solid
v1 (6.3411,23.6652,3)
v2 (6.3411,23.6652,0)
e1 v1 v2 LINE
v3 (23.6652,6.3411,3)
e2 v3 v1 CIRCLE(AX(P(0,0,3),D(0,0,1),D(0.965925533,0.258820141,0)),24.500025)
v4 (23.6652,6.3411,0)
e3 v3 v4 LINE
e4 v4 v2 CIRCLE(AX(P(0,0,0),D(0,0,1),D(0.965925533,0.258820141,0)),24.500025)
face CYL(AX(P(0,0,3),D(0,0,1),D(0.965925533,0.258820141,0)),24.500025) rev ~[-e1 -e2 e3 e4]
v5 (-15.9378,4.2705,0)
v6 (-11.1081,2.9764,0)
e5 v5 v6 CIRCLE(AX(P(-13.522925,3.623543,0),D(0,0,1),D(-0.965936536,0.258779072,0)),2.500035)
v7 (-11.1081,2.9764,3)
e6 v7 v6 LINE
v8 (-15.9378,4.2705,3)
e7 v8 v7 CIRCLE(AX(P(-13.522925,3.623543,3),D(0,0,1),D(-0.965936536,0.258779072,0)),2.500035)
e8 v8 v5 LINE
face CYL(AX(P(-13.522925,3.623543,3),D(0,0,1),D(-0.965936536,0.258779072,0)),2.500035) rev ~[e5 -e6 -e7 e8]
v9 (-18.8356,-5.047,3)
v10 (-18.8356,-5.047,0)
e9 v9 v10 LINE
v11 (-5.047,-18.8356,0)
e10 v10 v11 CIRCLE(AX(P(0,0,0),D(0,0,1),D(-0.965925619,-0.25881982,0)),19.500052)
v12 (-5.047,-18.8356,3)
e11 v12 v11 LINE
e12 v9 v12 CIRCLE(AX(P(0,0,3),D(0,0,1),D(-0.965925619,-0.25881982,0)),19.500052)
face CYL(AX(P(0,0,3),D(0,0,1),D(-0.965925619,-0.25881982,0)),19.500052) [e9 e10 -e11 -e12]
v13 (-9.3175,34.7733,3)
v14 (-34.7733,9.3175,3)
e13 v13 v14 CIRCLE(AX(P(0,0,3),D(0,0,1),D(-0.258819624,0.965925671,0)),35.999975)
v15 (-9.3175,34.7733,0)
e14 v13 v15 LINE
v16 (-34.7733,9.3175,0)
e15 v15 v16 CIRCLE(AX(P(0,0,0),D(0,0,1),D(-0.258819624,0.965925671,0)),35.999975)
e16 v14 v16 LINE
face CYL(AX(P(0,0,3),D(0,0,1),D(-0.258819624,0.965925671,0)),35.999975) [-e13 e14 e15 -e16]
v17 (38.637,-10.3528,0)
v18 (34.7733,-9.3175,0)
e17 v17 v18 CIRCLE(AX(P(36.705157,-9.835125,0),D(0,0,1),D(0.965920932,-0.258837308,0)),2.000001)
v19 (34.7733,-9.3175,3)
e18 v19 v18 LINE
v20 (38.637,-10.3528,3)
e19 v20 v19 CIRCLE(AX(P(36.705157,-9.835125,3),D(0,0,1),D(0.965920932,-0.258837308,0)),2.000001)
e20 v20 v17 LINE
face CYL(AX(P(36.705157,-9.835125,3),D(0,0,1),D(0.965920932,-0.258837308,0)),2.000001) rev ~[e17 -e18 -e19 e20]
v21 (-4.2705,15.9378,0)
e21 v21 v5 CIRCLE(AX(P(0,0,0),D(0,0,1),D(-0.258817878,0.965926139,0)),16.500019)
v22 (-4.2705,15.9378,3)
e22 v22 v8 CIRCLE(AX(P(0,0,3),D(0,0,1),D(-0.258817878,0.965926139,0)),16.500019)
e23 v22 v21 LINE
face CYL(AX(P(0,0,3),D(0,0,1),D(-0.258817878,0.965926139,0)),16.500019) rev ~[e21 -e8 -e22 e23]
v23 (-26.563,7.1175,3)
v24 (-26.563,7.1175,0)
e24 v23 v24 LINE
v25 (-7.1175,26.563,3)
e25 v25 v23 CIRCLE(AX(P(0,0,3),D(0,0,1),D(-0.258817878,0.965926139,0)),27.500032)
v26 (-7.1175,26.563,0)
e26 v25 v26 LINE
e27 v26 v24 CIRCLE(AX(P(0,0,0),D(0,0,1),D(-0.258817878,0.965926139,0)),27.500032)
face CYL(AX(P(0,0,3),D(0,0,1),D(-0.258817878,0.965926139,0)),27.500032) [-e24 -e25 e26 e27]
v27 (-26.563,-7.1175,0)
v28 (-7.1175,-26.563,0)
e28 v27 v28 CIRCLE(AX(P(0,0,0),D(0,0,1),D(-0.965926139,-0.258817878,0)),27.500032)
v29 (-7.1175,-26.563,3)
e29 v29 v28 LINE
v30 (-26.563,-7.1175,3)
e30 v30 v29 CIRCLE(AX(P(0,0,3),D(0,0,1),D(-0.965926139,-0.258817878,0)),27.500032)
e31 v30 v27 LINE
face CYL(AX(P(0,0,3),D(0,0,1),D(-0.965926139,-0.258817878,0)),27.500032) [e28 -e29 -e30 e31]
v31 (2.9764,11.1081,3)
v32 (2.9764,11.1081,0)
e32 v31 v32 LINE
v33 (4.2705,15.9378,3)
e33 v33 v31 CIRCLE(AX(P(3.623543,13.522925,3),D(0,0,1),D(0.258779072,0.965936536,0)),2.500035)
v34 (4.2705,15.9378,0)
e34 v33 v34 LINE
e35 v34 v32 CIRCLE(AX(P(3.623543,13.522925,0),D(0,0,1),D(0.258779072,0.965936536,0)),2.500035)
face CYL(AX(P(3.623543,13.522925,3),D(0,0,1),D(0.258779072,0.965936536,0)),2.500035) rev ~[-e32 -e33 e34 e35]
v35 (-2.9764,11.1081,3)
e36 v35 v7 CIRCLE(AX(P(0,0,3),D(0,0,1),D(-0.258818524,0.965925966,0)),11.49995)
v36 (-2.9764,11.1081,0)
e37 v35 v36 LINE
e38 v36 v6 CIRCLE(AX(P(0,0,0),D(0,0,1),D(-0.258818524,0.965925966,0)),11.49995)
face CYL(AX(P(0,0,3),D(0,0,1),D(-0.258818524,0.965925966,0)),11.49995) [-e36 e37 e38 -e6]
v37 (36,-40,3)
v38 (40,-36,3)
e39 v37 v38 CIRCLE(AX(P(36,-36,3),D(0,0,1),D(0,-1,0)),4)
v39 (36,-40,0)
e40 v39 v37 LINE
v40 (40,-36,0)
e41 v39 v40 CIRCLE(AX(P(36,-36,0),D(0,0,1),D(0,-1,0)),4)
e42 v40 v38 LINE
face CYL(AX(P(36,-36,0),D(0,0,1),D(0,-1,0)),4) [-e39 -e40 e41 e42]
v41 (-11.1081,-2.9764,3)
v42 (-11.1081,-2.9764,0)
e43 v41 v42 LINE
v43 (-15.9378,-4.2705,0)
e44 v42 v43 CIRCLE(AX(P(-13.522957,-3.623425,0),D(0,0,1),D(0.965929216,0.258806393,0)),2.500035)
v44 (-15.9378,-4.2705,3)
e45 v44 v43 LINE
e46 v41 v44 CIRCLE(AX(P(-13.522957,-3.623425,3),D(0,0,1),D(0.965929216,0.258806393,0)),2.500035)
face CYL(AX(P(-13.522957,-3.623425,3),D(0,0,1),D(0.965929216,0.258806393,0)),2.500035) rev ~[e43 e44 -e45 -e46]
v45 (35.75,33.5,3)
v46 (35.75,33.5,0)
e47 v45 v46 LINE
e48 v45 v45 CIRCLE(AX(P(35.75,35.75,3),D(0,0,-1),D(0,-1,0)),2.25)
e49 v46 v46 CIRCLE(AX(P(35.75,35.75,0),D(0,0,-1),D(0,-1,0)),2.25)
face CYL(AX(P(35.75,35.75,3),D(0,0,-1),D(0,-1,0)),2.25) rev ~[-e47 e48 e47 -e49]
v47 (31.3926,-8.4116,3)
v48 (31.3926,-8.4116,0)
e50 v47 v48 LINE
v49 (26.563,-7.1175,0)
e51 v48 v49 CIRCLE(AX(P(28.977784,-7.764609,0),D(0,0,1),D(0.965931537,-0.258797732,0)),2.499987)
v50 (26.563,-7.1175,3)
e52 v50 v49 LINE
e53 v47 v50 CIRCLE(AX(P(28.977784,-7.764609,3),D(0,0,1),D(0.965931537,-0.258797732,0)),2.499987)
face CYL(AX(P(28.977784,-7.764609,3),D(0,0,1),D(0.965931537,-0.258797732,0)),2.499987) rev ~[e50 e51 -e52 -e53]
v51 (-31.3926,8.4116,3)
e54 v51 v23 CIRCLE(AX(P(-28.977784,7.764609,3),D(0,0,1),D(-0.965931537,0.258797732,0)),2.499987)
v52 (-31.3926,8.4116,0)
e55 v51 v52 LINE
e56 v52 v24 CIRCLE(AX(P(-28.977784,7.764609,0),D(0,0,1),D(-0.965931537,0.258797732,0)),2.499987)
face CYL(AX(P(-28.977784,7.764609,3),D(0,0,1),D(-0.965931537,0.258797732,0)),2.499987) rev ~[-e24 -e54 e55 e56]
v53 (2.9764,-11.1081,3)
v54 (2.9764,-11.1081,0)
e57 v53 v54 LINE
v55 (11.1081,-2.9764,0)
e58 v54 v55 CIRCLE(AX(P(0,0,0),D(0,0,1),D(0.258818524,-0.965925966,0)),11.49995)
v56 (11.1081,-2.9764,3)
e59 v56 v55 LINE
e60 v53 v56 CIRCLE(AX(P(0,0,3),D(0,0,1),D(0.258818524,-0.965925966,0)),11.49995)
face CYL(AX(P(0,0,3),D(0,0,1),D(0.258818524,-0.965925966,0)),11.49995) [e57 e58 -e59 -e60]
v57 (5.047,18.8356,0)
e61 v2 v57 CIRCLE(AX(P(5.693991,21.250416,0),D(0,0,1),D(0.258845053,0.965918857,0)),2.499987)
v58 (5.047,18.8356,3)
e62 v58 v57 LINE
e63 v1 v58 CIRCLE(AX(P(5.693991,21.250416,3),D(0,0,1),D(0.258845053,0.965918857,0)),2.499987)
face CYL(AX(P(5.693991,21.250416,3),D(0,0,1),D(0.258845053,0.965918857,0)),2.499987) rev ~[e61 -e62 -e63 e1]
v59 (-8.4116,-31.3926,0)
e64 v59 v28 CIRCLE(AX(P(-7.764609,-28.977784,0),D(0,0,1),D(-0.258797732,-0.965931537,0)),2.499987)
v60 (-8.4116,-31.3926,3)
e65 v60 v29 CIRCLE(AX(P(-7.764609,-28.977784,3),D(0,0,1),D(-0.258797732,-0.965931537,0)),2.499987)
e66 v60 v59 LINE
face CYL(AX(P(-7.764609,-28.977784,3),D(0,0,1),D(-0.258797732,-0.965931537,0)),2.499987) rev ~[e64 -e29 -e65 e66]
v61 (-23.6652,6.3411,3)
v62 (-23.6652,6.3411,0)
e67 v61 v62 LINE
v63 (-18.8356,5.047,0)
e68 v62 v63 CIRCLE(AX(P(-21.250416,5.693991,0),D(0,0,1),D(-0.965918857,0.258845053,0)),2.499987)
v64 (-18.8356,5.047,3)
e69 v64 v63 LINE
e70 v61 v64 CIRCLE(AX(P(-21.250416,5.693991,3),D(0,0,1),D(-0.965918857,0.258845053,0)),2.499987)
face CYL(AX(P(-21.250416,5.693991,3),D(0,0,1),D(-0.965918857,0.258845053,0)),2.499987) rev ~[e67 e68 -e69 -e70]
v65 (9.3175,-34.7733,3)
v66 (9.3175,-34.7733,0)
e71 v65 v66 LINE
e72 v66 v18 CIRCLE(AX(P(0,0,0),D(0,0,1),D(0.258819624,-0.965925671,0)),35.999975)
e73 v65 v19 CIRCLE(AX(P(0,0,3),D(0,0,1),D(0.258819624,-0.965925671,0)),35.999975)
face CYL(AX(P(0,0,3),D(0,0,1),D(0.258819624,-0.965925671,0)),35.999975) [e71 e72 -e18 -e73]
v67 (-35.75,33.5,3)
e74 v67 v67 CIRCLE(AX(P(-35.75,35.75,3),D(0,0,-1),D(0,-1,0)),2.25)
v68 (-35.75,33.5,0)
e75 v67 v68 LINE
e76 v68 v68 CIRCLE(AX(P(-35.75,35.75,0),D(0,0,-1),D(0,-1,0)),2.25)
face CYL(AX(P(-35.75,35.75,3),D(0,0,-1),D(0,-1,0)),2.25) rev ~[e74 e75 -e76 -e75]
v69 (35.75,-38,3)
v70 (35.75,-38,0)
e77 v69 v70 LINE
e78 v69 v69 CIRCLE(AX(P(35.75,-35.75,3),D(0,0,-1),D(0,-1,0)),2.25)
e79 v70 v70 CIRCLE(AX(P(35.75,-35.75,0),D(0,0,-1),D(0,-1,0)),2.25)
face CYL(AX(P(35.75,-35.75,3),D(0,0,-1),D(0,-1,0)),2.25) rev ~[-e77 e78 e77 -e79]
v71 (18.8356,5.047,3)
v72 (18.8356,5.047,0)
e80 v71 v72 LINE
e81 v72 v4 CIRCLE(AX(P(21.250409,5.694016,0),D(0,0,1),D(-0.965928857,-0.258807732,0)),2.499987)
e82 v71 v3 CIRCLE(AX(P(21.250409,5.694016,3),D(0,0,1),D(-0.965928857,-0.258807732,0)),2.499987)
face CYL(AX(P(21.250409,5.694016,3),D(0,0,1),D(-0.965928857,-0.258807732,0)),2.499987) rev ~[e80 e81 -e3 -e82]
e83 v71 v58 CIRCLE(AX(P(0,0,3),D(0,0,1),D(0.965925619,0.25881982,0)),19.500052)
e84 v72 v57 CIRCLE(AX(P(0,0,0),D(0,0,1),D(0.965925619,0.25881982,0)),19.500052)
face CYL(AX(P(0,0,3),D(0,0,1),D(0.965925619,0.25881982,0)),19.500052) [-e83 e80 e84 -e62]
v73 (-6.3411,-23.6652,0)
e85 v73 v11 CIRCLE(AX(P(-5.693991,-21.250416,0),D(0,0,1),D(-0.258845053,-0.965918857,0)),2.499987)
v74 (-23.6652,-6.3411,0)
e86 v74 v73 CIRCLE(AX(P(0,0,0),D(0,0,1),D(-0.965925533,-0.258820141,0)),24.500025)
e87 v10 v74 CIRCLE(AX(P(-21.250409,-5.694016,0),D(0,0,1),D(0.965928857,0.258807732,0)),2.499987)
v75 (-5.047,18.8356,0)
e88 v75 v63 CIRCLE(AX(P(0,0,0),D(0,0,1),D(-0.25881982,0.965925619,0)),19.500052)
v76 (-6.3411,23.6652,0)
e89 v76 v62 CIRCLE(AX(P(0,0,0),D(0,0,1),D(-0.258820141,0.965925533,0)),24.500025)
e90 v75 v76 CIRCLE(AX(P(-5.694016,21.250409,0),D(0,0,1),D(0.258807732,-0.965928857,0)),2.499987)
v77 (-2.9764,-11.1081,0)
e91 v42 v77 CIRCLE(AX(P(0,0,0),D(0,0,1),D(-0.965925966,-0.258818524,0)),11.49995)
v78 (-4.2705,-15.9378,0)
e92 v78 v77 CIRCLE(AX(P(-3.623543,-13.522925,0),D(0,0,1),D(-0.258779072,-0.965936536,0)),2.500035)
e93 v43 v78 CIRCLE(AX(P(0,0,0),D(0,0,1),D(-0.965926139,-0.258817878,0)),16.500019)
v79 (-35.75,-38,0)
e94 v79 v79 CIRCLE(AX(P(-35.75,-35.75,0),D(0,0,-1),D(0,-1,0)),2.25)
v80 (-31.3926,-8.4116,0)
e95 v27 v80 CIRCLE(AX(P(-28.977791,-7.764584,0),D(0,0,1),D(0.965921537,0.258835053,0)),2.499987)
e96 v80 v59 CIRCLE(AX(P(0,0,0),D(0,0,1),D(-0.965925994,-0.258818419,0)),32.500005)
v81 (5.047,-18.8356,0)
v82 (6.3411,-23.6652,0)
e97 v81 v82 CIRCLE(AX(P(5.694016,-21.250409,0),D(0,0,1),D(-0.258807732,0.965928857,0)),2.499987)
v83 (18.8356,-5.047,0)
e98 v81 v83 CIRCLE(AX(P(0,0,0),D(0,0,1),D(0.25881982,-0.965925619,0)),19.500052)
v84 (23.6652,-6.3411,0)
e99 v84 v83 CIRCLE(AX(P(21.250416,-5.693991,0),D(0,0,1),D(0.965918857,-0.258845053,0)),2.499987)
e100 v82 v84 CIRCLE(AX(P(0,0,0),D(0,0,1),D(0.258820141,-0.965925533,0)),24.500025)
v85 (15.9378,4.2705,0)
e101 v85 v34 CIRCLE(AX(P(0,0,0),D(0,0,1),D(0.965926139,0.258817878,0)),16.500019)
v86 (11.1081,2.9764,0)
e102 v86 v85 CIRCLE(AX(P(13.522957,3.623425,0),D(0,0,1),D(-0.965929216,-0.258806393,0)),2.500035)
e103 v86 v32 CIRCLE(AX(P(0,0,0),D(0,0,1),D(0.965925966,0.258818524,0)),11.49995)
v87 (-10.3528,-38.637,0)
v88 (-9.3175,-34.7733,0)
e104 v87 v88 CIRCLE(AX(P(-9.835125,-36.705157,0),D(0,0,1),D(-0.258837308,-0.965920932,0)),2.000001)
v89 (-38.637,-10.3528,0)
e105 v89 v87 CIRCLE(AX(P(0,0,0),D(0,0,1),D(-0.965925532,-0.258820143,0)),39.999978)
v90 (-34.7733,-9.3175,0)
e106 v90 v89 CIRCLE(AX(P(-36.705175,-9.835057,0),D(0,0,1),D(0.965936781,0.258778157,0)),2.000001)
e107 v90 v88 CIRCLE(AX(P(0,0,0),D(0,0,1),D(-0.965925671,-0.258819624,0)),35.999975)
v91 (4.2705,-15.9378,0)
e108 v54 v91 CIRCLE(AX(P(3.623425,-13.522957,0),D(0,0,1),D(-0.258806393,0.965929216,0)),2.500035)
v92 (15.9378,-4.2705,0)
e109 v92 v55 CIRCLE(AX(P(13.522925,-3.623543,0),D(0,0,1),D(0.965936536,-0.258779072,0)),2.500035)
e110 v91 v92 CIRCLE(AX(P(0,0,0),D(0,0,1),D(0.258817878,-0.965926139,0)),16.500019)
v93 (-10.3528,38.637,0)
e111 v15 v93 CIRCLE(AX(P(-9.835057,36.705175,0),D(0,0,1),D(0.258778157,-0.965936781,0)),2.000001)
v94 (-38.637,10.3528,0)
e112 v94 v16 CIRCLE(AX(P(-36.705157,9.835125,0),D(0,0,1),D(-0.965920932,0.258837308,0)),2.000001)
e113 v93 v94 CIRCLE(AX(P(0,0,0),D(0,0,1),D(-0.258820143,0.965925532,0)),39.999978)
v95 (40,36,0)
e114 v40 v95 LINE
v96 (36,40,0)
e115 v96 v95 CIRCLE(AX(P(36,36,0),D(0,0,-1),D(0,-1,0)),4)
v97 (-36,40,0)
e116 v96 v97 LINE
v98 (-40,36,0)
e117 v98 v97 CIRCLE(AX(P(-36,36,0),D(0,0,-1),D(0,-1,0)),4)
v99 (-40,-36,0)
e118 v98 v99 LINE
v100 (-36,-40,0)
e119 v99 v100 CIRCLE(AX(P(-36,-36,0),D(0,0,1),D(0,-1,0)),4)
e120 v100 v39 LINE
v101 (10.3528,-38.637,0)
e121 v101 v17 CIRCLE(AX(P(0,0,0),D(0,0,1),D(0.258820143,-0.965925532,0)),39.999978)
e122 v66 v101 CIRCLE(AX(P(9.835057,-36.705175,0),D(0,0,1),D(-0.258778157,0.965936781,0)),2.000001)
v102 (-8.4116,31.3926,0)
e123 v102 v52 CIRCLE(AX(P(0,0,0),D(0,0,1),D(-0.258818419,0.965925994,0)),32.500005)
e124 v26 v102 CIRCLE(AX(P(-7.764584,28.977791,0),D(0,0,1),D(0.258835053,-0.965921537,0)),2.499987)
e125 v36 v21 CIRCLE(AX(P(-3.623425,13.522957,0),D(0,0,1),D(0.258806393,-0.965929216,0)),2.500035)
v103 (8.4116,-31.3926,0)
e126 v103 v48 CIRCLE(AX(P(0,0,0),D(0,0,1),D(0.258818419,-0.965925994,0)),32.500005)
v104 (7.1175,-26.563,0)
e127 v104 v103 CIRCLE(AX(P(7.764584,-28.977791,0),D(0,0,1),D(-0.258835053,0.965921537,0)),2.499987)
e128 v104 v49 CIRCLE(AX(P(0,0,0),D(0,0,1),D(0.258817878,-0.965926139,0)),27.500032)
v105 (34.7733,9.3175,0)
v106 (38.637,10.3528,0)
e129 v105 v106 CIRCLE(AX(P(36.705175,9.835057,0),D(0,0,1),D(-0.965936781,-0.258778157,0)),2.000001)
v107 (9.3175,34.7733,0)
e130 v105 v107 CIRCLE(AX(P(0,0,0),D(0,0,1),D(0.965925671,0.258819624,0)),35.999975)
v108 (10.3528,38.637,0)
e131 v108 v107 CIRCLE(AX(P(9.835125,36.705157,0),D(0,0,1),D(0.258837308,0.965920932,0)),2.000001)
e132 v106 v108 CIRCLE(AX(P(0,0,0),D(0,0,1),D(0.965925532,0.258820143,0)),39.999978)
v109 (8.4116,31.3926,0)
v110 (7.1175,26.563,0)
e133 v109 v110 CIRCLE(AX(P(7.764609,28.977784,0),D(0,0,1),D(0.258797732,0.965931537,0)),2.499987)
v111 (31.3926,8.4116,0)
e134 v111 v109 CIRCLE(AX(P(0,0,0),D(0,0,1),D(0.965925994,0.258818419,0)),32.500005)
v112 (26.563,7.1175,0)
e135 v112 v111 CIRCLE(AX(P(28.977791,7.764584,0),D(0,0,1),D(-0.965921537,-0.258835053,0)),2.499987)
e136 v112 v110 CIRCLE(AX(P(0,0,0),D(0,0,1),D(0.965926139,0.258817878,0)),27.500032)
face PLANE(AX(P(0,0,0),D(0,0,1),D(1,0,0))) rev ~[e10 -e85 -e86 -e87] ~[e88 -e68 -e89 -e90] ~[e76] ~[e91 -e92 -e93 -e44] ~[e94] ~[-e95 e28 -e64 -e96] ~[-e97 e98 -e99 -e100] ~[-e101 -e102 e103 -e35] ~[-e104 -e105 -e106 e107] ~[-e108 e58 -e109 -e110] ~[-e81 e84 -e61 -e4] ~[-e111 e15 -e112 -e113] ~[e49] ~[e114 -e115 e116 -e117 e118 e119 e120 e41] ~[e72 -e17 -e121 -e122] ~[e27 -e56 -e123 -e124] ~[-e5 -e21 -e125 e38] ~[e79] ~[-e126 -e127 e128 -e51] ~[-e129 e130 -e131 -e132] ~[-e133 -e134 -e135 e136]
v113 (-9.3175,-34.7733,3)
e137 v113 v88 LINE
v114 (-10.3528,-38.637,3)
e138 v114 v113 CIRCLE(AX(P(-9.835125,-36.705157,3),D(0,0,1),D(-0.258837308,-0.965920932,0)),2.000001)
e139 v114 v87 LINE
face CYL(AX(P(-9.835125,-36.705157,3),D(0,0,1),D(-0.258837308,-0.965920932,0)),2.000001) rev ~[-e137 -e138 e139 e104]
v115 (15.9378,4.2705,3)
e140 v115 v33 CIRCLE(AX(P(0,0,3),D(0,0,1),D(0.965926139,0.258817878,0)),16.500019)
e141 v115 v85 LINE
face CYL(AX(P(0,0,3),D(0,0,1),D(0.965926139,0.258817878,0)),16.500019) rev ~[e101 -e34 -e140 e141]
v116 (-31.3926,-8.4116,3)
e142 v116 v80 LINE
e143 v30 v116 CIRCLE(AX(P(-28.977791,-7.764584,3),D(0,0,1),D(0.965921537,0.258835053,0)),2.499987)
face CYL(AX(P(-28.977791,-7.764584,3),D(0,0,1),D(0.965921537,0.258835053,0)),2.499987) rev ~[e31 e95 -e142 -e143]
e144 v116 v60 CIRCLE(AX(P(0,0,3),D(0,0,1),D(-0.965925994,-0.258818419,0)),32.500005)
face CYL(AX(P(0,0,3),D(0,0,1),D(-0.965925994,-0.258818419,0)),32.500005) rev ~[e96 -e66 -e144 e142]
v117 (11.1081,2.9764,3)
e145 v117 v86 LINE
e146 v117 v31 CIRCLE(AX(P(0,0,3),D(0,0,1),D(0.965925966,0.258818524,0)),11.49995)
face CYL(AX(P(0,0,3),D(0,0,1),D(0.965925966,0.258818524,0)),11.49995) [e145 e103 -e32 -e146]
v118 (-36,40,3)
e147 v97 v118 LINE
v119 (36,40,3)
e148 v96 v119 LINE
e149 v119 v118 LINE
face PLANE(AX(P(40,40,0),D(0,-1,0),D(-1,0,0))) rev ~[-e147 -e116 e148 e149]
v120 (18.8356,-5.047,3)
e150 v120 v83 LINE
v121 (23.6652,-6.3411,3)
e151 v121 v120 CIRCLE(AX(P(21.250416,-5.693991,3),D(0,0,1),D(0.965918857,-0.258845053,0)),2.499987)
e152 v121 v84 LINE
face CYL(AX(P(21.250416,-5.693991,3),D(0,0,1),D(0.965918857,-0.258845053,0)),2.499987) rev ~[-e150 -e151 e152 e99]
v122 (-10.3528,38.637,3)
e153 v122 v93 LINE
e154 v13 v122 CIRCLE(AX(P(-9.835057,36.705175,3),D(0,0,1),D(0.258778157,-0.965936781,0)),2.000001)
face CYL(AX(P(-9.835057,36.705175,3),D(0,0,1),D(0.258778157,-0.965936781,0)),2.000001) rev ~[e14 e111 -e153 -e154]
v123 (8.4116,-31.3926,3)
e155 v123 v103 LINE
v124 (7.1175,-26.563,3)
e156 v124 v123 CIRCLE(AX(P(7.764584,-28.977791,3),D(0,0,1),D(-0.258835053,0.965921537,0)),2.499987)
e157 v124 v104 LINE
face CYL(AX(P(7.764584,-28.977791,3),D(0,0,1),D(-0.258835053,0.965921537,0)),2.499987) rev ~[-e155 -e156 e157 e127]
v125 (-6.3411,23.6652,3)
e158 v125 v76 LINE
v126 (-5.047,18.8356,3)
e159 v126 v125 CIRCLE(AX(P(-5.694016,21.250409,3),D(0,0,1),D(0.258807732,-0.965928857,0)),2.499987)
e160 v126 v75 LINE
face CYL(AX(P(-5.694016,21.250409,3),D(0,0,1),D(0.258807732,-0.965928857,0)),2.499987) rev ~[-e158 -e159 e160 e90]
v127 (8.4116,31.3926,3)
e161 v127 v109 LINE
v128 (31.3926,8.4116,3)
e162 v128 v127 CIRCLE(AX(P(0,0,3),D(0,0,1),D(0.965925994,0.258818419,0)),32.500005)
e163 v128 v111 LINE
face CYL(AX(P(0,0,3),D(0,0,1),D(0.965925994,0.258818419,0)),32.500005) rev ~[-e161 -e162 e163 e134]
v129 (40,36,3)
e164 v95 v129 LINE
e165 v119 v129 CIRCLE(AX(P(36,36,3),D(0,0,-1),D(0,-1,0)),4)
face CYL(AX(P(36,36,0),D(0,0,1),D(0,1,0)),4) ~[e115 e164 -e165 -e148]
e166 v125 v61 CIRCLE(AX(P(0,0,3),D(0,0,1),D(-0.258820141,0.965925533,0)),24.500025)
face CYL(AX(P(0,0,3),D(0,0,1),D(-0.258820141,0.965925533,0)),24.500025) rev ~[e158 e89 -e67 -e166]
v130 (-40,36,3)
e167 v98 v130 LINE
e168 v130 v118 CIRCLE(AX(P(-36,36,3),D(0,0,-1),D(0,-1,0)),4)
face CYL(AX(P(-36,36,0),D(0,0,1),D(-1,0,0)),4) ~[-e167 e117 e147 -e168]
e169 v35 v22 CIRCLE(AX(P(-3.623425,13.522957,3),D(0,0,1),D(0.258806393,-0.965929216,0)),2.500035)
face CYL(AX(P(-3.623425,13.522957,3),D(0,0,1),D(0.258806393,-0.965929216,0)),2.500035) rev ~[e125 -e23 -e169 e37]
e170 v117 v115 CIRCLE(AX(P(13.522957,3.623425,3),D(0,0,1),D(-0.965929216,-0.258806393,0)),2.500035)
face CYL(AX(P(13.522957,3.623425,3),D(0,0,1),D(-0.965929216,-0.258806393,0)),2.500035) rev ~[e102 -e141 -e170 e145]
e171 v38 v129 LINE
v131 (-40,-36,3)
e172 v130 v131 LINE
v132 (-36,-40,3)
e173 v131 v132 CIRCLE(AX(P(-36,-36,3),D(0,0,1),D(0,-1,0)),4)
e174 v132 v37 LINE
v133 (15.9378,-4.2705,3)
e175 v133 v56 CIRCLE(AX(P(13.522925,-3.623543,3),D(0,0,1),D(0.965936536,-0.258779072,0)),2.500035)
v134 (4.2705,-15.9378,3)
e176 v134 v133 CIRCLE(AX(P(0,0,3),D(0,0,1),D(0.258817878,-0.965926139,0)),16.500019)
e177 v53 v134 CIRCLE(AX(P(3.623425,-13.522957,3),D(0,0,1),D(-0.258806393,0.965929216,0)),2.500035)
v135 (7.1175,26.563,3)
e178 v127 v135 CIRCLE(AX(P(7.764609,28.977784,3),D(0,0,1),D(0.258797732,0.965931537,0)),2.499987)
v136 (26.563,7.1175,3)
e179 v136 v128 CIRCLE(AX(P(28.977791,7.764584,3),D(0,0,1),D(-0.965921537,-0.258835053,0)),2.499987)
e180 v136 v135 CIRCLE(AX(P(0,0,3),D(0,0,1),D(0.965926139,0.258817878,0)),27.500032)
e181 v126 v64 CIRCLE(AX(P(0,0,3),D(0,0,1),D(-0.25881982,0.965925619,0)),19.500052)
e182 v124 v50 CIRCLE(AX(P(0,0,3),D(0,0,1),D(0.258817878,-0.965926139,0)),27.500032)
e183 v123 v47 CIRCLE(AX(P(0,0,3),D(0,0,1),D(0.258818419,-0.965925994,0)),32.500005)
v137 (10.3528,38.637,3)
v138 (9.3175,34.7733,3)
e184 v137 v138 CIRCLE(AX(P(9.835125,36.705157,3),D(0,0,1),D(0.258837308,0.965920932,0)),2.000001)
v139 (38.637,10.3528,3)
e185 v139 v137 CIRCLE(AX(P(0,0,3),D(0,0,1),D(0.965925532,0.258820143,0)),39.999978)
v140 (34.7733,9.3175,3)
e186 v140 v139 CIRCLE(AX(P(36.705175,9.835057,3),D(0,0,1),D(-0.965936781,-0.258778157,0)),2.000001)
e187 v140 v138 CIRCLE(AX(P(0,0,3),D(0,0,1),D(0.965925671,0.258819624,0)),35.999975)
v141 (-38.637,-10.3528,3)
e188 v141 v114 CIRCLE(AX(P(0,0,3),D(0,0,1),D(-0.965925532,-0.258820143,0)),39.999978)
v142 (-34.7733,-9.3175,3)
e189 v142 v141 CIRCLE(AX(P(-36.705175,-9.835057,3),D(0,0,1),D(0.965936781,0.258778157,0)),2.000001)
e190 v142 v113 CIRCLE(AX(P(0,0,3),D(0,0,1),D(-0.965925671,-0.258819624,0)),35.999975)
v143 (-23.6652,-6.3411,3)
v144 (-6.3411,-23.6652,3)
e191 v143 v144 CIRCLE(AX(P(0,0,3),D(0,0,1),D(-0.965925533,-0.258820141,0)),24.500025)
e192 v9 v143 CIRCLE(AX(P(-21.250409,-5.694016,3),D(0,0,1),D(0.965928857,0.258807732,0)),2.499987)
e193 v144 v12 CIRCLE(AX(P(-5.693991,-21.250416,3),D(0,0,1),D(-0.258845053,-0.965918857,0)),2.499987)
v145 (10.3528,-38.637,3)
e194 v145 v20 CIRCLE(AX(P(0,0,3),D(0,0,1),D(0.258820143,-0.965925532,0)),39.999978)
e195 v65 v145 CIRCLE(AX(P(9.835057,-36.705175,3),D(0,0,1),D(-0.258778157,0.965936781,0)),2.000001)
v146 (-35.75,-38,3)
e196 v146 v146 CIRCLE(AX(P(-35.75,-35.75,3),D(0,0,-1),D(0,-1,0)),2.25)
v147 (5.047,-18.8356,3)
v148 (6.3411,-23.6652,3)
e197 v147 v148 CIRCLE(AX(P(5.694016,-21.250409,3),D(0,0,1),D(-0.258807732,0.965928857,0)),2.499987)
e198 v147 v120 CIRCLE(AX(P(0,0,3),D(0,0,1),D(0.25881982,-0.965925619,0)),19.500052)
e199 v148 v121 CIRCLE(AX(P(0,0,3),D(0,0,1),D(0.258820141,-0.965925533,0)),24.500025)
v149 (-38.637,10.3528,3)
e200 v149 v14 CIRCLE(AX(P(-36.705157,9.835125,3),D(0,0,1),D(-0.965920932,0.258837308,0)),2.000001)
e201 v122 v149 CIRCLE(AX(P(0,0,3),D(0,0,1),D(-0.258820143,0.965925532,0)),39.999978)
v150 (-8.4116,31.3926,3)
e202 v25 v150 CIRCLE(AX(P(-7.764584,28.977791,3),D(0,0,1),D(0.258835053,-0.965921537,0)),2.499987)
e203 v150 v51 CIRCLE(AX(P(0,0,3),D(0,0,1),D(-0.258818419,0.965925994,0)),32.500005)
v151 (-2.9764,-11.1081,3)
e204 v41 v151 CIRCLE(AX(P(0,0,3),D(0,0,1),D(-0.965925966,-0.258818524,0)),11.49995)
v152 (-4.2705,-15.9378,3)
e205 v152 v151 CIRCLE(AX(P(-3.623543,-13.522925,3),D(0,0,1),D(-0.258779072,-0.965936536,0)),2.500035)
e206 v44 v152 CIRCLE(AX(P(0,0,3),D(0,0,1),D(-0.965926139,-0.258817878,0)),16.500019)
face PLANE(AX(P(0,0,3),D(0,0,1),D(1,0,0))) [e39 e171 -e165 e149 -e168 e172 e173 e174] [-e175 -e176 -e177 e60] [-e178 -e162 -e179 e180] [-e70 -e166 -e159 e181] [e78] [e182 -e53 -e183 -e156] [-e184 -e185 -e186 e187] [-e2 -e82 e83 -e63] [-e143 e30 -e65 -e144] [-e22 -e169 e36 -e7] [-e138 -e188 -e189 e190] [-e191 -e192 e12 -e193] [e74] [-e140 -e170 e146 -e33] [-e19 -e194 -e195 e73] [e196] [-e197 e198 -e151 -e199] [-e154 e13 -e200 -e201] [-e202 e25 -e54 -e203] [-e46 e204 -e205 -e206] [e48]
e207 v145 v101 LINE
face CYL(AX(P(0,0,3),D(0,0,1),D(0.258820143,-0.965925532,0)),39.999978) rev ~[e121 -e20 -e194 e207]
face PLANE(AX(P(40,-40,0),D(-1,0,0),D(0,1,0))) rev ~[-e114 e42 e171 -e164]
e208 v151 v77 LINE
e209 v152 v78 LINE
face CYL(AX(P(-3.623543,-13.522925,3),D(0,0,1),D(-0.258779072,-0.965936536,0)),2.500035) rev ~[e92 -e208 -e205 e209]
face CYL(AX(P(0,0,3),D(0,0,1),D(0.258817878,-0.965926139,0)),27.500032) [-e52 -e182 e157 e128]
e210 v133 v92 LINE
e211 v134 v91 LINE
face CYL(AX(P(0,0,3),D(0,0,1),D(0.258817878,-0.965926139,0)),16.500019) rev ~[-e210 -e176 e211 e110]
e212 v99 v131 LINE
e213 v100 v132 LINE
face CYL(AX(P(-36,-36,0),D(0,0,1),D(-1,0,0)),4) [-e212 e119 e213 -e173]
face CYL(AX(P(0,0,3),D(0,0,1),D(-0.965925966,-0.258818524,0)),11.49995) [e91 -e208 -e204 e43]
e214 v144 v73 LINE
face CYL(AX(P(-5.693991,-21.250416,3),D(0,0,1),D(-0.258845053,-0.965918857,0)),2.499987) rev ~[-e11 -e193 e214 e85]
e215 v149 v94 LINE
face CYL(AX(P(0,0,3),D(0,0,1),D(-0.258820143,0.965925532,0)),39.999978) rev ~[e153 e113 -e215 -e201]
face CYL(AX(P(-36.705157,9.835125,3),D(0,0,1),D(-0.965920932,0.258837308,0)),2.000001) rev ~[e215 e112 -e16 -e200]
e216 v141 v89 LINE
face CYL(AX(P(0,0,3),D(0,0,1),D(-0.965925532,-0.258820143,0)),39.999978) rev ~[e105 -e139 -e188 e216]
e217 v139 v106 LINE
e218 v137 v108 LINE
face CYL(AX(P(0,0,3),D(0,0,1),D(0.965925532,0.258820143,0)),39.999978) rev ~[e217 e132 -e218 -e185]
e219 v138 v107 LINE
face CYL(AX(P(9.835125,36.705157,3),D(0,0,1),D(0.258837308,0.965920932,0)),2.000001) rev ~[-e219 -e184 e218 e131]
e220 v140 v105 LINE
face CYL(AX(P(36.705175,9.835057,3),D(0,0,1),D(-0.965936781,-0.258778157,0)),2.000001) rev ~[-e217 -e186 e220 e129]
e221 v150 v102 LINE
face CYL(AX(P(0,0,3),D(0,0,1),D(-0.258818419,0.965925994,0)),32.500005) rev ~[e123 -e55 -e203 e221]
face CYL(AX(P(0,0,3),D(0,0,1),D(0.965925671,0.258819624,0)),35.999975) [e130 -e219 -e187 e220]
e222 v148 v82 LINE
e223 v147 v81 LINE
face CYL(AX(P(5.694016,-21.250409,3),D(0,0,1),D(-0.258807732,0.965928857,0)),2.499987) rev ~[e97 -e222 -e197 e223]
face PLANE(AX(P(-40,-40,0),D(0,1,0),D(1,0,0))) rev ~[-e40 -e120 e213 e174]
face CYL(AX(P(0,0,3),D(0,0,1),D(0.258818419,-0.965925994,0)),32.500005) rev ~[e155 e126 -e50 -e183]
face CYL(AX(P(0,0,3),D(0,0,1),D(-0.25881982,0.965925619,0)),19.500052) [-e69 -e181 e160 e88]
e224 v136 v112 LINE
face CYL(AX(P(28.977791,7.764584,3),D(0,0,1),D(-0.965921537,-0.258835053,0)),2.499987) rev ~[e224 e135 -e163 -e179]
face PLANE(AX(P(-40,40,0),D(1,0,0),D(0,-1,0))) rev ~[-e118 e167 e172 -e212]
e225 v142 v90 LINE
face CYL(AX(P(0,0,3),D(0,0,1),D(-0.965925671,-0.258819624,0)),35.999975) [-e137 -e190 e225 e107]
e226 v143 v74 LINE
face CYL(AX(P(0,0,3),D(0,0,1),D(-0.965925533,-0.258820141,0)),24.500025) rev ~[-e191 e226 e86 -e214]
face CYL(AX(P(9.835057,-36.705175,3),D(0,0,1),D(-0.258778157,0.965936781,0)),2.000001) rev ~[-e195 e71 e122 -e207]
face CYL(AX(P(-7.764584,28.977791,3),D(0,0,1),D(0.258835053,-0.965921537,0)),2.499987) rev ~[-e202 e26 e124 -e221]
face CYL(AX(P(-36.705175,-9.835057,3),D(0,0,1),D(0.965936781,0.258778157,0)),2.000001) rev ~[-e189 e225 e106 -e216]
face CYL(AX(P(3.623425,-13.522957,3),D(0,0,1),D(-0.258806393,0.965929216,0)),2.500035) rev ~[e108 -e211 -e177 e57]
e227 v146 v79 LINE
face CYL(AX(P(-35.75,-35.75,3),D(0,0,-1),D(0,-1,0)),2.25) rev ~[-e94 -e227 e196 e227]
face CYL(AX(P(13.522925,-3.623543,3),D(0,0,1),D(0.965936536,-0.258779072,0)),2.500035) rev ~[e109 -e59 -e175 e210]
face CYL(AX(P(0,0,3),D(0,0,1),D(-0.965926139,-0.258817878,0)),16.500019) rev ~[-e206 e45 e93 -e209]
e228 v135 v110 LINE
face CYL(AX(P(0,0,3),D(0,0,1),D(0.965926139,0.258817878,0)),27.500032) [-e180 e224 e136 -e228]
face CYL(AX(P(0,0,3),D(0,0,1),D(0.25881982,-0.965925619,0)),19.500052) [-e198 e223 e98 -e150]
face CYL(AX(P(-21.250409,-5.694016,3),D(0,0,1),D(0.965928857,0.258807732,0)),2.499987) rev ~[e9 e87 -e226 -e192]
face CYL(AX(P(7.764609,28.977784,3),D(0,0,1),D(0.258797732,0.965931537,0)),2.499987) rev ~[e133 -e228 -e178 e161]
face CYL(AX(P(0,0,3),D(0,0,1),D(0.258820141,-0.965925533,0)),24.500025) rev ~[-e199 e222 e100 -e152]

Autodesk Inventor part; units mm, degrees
ref_plane "YZ Plane" through (0, 0, 0) normal (1, 0, 0) x (0, 1, 0)
ref_plane "XZ Plane" through (0, 0, 0) normal (0, 1, 0) x (-1, 0, 0)
ref_plane "XY Plane" through (0, 0, 0) normal (0, 0, 1) x (1, 0, 0)
sketch "Sketch1" plane through (0, 0, 0) normal (0, 0, 1) x (1, 0, 0)
  line L0 (-40, -40) -> (40, -40)
  line L1 (40, -40) -> (40, 40)
  line L2 (40, 40) -> (-40, 40)
  line L3 (-40, 40) -> (-40, -40)
  line L4 (-40, -40) -> (40, 40) construction
  line L5 (40, -40) -> (-40, 40) construction
  point P0 (0, 0)
  dimension "d0" = 80
  dimension "d1" = 80
extrude "Extrusion1" add sketch "Sketch1" along normal blind 3
sketch "Sketch2" plane through (0, 0, 3) normal (0, 0, 1) x (1, 0, 0)
  arc A0 (-9.8351, 36.7052) -> (-36.7052, 9.8351) centre (0, 0) ccw construction
  arc A1 (-10.3528, 38.637) -> (-38.637, 10.3528) centre (0, 0) ccw
  arc A2 (-9.3175, 34.7733) -> (-34.7733, 9.3175) centre (0, 0) ccw
  arc A3 (-9.3175, 34.7733) -> (-10.3528, 38.637) centre (-9.8351, 36.7052) ccw
  arc A4 (-38.637, 10.3528) -> (-34.7733, 9.3175) centre (-36.7052, 9.8351) ccw
  arc A5 (-7.7646, 28.9778) -> (-28.9778, 7.7646) centre (0, 0) ccw construction
  arc A6 (-8.4116, 31.3926) -> (-31.3926, 8.4116) centre (0, 0) ccw
  arc A7 (-7.1175, 26.563) -> (-26.563, 7.1175) centre (0, 0) ccw
  arc A8 (-7.1175, 26.563) -> (-8.4116, 31.3926) centre (-7.7646, 28.9778) ccw
  arc A9 (-31.3926, 8.4116) -> (-26.563, 7.1175) centre (-28.9778, 7.7646) ccw
  arc A10 (-5.694, 21.2504) -> (-21.2504, 5.694) centre (0, 0) ccw construction
  arc A11 (-6.3411, 23.6652) -> (-23.6652, 6.3411) centre (0, 0) ccw
  arc A12 (-5.047, 18.8356) -> (-18.8356, 5.047) centre (0, 0) ccw
  arc A13 (-5.047, 18.8356) -> (-6.3411, 23.6652) centre (-5.694, 21.2504) ccw
  arc A14 (-23.6652, 6.3411) -> (-18.8356, 5.047) centre (-21.2504, 5.694) ccw
  line L0 (0, 0) -> (-62.4866, 0) construction
  line L1 (0, 0) -> (-61.1079, 16.3738) construction
  line L2 (0, 0) -> (0, 46.5462) construction
  line L3 (0, 0) -> (-12.1401, 45.3074) construction
  arc A15 (-3.6235, 13.523) -> (-13.523, 3.6235) centre (0, 0) ccw construction
  arc A16 (-4.2705, 15.9378) -> (-15.9378, 4.2705) centre (0, 0) ccw
  arc A17 (-2.9764, 11.1081) -> (-11.1081, 2.9764) centre (0, 0) ccw
  arc A18 (-2.9764, 11.1081) -> (-4.2705, 15.9378) centre (-3.6235, 13.523) ccw
  arc A19 (-15.9378, 4.2705) -> (-11.1081, 2.9764) centre (-13.523, 3.6235) ccw
  dimension "d4" = 38
  dimension "d5" = 15
  dimension "d6" = 15
  dimension "d7" = 30
  dimension "d8" = 22
  dimension "d9" = 4
  dimension "d10" = 5
  dimension "d11" = 5
  dimension "d12" = 14
  dimension "d13" = 5
extrude "Extrusion2" cut sketch "Sketch2" against normal blind 3
pattern_circular "Circular Pattern1" count 4 over 360 about axis through (0, 0, -10) along (0, 0, 1) of "Extrusion2"
sketch "Sketch3" plane through (0, 0, 3) normal (0, 0, 1) x (1, 0, 0)
  line L0 (-35.75, -35.75) -> (35.75, -35.75) construction
  line L1 (35.75, -35.75) -> (35.75, 35.75) construction
  line L2 (35.75, 35.75) -> (-35.75, 35.75) construction
  line L3 (-35.75, 35.75) -> (-35.75, -35.75) construction
  line L4 (-35.75, -35.75) -> (35.75, 35.75) construction
  line L5 (35.75, -35.75) -> (-35.75, 35.75) construction
  point P0 (0, 0)
  dimension "d19" = 71.5
  dimension "d20" = 71.5
hole "Hole1" at (-35.75, 35.75, 3) at (35.75, 35.75, 3) at (35.75, -35.75, 3) at (-35.75, -35.75, 3) direction (0, 0, -1) diameter 4.5 depth 8 tip angle 118 clearance for "Countersunk Flat Head Screw DIN EN ISO 2009" size "M4" standard "DIN"
fillet "Fillet1" radius 4 4 edges at (-40, 40, 1.5) (-40, -40, 1.5) (40, -40, 1.5) (40, 40, 1.5)
properties part number "Lüftergitter" material "Stainless Steel"
